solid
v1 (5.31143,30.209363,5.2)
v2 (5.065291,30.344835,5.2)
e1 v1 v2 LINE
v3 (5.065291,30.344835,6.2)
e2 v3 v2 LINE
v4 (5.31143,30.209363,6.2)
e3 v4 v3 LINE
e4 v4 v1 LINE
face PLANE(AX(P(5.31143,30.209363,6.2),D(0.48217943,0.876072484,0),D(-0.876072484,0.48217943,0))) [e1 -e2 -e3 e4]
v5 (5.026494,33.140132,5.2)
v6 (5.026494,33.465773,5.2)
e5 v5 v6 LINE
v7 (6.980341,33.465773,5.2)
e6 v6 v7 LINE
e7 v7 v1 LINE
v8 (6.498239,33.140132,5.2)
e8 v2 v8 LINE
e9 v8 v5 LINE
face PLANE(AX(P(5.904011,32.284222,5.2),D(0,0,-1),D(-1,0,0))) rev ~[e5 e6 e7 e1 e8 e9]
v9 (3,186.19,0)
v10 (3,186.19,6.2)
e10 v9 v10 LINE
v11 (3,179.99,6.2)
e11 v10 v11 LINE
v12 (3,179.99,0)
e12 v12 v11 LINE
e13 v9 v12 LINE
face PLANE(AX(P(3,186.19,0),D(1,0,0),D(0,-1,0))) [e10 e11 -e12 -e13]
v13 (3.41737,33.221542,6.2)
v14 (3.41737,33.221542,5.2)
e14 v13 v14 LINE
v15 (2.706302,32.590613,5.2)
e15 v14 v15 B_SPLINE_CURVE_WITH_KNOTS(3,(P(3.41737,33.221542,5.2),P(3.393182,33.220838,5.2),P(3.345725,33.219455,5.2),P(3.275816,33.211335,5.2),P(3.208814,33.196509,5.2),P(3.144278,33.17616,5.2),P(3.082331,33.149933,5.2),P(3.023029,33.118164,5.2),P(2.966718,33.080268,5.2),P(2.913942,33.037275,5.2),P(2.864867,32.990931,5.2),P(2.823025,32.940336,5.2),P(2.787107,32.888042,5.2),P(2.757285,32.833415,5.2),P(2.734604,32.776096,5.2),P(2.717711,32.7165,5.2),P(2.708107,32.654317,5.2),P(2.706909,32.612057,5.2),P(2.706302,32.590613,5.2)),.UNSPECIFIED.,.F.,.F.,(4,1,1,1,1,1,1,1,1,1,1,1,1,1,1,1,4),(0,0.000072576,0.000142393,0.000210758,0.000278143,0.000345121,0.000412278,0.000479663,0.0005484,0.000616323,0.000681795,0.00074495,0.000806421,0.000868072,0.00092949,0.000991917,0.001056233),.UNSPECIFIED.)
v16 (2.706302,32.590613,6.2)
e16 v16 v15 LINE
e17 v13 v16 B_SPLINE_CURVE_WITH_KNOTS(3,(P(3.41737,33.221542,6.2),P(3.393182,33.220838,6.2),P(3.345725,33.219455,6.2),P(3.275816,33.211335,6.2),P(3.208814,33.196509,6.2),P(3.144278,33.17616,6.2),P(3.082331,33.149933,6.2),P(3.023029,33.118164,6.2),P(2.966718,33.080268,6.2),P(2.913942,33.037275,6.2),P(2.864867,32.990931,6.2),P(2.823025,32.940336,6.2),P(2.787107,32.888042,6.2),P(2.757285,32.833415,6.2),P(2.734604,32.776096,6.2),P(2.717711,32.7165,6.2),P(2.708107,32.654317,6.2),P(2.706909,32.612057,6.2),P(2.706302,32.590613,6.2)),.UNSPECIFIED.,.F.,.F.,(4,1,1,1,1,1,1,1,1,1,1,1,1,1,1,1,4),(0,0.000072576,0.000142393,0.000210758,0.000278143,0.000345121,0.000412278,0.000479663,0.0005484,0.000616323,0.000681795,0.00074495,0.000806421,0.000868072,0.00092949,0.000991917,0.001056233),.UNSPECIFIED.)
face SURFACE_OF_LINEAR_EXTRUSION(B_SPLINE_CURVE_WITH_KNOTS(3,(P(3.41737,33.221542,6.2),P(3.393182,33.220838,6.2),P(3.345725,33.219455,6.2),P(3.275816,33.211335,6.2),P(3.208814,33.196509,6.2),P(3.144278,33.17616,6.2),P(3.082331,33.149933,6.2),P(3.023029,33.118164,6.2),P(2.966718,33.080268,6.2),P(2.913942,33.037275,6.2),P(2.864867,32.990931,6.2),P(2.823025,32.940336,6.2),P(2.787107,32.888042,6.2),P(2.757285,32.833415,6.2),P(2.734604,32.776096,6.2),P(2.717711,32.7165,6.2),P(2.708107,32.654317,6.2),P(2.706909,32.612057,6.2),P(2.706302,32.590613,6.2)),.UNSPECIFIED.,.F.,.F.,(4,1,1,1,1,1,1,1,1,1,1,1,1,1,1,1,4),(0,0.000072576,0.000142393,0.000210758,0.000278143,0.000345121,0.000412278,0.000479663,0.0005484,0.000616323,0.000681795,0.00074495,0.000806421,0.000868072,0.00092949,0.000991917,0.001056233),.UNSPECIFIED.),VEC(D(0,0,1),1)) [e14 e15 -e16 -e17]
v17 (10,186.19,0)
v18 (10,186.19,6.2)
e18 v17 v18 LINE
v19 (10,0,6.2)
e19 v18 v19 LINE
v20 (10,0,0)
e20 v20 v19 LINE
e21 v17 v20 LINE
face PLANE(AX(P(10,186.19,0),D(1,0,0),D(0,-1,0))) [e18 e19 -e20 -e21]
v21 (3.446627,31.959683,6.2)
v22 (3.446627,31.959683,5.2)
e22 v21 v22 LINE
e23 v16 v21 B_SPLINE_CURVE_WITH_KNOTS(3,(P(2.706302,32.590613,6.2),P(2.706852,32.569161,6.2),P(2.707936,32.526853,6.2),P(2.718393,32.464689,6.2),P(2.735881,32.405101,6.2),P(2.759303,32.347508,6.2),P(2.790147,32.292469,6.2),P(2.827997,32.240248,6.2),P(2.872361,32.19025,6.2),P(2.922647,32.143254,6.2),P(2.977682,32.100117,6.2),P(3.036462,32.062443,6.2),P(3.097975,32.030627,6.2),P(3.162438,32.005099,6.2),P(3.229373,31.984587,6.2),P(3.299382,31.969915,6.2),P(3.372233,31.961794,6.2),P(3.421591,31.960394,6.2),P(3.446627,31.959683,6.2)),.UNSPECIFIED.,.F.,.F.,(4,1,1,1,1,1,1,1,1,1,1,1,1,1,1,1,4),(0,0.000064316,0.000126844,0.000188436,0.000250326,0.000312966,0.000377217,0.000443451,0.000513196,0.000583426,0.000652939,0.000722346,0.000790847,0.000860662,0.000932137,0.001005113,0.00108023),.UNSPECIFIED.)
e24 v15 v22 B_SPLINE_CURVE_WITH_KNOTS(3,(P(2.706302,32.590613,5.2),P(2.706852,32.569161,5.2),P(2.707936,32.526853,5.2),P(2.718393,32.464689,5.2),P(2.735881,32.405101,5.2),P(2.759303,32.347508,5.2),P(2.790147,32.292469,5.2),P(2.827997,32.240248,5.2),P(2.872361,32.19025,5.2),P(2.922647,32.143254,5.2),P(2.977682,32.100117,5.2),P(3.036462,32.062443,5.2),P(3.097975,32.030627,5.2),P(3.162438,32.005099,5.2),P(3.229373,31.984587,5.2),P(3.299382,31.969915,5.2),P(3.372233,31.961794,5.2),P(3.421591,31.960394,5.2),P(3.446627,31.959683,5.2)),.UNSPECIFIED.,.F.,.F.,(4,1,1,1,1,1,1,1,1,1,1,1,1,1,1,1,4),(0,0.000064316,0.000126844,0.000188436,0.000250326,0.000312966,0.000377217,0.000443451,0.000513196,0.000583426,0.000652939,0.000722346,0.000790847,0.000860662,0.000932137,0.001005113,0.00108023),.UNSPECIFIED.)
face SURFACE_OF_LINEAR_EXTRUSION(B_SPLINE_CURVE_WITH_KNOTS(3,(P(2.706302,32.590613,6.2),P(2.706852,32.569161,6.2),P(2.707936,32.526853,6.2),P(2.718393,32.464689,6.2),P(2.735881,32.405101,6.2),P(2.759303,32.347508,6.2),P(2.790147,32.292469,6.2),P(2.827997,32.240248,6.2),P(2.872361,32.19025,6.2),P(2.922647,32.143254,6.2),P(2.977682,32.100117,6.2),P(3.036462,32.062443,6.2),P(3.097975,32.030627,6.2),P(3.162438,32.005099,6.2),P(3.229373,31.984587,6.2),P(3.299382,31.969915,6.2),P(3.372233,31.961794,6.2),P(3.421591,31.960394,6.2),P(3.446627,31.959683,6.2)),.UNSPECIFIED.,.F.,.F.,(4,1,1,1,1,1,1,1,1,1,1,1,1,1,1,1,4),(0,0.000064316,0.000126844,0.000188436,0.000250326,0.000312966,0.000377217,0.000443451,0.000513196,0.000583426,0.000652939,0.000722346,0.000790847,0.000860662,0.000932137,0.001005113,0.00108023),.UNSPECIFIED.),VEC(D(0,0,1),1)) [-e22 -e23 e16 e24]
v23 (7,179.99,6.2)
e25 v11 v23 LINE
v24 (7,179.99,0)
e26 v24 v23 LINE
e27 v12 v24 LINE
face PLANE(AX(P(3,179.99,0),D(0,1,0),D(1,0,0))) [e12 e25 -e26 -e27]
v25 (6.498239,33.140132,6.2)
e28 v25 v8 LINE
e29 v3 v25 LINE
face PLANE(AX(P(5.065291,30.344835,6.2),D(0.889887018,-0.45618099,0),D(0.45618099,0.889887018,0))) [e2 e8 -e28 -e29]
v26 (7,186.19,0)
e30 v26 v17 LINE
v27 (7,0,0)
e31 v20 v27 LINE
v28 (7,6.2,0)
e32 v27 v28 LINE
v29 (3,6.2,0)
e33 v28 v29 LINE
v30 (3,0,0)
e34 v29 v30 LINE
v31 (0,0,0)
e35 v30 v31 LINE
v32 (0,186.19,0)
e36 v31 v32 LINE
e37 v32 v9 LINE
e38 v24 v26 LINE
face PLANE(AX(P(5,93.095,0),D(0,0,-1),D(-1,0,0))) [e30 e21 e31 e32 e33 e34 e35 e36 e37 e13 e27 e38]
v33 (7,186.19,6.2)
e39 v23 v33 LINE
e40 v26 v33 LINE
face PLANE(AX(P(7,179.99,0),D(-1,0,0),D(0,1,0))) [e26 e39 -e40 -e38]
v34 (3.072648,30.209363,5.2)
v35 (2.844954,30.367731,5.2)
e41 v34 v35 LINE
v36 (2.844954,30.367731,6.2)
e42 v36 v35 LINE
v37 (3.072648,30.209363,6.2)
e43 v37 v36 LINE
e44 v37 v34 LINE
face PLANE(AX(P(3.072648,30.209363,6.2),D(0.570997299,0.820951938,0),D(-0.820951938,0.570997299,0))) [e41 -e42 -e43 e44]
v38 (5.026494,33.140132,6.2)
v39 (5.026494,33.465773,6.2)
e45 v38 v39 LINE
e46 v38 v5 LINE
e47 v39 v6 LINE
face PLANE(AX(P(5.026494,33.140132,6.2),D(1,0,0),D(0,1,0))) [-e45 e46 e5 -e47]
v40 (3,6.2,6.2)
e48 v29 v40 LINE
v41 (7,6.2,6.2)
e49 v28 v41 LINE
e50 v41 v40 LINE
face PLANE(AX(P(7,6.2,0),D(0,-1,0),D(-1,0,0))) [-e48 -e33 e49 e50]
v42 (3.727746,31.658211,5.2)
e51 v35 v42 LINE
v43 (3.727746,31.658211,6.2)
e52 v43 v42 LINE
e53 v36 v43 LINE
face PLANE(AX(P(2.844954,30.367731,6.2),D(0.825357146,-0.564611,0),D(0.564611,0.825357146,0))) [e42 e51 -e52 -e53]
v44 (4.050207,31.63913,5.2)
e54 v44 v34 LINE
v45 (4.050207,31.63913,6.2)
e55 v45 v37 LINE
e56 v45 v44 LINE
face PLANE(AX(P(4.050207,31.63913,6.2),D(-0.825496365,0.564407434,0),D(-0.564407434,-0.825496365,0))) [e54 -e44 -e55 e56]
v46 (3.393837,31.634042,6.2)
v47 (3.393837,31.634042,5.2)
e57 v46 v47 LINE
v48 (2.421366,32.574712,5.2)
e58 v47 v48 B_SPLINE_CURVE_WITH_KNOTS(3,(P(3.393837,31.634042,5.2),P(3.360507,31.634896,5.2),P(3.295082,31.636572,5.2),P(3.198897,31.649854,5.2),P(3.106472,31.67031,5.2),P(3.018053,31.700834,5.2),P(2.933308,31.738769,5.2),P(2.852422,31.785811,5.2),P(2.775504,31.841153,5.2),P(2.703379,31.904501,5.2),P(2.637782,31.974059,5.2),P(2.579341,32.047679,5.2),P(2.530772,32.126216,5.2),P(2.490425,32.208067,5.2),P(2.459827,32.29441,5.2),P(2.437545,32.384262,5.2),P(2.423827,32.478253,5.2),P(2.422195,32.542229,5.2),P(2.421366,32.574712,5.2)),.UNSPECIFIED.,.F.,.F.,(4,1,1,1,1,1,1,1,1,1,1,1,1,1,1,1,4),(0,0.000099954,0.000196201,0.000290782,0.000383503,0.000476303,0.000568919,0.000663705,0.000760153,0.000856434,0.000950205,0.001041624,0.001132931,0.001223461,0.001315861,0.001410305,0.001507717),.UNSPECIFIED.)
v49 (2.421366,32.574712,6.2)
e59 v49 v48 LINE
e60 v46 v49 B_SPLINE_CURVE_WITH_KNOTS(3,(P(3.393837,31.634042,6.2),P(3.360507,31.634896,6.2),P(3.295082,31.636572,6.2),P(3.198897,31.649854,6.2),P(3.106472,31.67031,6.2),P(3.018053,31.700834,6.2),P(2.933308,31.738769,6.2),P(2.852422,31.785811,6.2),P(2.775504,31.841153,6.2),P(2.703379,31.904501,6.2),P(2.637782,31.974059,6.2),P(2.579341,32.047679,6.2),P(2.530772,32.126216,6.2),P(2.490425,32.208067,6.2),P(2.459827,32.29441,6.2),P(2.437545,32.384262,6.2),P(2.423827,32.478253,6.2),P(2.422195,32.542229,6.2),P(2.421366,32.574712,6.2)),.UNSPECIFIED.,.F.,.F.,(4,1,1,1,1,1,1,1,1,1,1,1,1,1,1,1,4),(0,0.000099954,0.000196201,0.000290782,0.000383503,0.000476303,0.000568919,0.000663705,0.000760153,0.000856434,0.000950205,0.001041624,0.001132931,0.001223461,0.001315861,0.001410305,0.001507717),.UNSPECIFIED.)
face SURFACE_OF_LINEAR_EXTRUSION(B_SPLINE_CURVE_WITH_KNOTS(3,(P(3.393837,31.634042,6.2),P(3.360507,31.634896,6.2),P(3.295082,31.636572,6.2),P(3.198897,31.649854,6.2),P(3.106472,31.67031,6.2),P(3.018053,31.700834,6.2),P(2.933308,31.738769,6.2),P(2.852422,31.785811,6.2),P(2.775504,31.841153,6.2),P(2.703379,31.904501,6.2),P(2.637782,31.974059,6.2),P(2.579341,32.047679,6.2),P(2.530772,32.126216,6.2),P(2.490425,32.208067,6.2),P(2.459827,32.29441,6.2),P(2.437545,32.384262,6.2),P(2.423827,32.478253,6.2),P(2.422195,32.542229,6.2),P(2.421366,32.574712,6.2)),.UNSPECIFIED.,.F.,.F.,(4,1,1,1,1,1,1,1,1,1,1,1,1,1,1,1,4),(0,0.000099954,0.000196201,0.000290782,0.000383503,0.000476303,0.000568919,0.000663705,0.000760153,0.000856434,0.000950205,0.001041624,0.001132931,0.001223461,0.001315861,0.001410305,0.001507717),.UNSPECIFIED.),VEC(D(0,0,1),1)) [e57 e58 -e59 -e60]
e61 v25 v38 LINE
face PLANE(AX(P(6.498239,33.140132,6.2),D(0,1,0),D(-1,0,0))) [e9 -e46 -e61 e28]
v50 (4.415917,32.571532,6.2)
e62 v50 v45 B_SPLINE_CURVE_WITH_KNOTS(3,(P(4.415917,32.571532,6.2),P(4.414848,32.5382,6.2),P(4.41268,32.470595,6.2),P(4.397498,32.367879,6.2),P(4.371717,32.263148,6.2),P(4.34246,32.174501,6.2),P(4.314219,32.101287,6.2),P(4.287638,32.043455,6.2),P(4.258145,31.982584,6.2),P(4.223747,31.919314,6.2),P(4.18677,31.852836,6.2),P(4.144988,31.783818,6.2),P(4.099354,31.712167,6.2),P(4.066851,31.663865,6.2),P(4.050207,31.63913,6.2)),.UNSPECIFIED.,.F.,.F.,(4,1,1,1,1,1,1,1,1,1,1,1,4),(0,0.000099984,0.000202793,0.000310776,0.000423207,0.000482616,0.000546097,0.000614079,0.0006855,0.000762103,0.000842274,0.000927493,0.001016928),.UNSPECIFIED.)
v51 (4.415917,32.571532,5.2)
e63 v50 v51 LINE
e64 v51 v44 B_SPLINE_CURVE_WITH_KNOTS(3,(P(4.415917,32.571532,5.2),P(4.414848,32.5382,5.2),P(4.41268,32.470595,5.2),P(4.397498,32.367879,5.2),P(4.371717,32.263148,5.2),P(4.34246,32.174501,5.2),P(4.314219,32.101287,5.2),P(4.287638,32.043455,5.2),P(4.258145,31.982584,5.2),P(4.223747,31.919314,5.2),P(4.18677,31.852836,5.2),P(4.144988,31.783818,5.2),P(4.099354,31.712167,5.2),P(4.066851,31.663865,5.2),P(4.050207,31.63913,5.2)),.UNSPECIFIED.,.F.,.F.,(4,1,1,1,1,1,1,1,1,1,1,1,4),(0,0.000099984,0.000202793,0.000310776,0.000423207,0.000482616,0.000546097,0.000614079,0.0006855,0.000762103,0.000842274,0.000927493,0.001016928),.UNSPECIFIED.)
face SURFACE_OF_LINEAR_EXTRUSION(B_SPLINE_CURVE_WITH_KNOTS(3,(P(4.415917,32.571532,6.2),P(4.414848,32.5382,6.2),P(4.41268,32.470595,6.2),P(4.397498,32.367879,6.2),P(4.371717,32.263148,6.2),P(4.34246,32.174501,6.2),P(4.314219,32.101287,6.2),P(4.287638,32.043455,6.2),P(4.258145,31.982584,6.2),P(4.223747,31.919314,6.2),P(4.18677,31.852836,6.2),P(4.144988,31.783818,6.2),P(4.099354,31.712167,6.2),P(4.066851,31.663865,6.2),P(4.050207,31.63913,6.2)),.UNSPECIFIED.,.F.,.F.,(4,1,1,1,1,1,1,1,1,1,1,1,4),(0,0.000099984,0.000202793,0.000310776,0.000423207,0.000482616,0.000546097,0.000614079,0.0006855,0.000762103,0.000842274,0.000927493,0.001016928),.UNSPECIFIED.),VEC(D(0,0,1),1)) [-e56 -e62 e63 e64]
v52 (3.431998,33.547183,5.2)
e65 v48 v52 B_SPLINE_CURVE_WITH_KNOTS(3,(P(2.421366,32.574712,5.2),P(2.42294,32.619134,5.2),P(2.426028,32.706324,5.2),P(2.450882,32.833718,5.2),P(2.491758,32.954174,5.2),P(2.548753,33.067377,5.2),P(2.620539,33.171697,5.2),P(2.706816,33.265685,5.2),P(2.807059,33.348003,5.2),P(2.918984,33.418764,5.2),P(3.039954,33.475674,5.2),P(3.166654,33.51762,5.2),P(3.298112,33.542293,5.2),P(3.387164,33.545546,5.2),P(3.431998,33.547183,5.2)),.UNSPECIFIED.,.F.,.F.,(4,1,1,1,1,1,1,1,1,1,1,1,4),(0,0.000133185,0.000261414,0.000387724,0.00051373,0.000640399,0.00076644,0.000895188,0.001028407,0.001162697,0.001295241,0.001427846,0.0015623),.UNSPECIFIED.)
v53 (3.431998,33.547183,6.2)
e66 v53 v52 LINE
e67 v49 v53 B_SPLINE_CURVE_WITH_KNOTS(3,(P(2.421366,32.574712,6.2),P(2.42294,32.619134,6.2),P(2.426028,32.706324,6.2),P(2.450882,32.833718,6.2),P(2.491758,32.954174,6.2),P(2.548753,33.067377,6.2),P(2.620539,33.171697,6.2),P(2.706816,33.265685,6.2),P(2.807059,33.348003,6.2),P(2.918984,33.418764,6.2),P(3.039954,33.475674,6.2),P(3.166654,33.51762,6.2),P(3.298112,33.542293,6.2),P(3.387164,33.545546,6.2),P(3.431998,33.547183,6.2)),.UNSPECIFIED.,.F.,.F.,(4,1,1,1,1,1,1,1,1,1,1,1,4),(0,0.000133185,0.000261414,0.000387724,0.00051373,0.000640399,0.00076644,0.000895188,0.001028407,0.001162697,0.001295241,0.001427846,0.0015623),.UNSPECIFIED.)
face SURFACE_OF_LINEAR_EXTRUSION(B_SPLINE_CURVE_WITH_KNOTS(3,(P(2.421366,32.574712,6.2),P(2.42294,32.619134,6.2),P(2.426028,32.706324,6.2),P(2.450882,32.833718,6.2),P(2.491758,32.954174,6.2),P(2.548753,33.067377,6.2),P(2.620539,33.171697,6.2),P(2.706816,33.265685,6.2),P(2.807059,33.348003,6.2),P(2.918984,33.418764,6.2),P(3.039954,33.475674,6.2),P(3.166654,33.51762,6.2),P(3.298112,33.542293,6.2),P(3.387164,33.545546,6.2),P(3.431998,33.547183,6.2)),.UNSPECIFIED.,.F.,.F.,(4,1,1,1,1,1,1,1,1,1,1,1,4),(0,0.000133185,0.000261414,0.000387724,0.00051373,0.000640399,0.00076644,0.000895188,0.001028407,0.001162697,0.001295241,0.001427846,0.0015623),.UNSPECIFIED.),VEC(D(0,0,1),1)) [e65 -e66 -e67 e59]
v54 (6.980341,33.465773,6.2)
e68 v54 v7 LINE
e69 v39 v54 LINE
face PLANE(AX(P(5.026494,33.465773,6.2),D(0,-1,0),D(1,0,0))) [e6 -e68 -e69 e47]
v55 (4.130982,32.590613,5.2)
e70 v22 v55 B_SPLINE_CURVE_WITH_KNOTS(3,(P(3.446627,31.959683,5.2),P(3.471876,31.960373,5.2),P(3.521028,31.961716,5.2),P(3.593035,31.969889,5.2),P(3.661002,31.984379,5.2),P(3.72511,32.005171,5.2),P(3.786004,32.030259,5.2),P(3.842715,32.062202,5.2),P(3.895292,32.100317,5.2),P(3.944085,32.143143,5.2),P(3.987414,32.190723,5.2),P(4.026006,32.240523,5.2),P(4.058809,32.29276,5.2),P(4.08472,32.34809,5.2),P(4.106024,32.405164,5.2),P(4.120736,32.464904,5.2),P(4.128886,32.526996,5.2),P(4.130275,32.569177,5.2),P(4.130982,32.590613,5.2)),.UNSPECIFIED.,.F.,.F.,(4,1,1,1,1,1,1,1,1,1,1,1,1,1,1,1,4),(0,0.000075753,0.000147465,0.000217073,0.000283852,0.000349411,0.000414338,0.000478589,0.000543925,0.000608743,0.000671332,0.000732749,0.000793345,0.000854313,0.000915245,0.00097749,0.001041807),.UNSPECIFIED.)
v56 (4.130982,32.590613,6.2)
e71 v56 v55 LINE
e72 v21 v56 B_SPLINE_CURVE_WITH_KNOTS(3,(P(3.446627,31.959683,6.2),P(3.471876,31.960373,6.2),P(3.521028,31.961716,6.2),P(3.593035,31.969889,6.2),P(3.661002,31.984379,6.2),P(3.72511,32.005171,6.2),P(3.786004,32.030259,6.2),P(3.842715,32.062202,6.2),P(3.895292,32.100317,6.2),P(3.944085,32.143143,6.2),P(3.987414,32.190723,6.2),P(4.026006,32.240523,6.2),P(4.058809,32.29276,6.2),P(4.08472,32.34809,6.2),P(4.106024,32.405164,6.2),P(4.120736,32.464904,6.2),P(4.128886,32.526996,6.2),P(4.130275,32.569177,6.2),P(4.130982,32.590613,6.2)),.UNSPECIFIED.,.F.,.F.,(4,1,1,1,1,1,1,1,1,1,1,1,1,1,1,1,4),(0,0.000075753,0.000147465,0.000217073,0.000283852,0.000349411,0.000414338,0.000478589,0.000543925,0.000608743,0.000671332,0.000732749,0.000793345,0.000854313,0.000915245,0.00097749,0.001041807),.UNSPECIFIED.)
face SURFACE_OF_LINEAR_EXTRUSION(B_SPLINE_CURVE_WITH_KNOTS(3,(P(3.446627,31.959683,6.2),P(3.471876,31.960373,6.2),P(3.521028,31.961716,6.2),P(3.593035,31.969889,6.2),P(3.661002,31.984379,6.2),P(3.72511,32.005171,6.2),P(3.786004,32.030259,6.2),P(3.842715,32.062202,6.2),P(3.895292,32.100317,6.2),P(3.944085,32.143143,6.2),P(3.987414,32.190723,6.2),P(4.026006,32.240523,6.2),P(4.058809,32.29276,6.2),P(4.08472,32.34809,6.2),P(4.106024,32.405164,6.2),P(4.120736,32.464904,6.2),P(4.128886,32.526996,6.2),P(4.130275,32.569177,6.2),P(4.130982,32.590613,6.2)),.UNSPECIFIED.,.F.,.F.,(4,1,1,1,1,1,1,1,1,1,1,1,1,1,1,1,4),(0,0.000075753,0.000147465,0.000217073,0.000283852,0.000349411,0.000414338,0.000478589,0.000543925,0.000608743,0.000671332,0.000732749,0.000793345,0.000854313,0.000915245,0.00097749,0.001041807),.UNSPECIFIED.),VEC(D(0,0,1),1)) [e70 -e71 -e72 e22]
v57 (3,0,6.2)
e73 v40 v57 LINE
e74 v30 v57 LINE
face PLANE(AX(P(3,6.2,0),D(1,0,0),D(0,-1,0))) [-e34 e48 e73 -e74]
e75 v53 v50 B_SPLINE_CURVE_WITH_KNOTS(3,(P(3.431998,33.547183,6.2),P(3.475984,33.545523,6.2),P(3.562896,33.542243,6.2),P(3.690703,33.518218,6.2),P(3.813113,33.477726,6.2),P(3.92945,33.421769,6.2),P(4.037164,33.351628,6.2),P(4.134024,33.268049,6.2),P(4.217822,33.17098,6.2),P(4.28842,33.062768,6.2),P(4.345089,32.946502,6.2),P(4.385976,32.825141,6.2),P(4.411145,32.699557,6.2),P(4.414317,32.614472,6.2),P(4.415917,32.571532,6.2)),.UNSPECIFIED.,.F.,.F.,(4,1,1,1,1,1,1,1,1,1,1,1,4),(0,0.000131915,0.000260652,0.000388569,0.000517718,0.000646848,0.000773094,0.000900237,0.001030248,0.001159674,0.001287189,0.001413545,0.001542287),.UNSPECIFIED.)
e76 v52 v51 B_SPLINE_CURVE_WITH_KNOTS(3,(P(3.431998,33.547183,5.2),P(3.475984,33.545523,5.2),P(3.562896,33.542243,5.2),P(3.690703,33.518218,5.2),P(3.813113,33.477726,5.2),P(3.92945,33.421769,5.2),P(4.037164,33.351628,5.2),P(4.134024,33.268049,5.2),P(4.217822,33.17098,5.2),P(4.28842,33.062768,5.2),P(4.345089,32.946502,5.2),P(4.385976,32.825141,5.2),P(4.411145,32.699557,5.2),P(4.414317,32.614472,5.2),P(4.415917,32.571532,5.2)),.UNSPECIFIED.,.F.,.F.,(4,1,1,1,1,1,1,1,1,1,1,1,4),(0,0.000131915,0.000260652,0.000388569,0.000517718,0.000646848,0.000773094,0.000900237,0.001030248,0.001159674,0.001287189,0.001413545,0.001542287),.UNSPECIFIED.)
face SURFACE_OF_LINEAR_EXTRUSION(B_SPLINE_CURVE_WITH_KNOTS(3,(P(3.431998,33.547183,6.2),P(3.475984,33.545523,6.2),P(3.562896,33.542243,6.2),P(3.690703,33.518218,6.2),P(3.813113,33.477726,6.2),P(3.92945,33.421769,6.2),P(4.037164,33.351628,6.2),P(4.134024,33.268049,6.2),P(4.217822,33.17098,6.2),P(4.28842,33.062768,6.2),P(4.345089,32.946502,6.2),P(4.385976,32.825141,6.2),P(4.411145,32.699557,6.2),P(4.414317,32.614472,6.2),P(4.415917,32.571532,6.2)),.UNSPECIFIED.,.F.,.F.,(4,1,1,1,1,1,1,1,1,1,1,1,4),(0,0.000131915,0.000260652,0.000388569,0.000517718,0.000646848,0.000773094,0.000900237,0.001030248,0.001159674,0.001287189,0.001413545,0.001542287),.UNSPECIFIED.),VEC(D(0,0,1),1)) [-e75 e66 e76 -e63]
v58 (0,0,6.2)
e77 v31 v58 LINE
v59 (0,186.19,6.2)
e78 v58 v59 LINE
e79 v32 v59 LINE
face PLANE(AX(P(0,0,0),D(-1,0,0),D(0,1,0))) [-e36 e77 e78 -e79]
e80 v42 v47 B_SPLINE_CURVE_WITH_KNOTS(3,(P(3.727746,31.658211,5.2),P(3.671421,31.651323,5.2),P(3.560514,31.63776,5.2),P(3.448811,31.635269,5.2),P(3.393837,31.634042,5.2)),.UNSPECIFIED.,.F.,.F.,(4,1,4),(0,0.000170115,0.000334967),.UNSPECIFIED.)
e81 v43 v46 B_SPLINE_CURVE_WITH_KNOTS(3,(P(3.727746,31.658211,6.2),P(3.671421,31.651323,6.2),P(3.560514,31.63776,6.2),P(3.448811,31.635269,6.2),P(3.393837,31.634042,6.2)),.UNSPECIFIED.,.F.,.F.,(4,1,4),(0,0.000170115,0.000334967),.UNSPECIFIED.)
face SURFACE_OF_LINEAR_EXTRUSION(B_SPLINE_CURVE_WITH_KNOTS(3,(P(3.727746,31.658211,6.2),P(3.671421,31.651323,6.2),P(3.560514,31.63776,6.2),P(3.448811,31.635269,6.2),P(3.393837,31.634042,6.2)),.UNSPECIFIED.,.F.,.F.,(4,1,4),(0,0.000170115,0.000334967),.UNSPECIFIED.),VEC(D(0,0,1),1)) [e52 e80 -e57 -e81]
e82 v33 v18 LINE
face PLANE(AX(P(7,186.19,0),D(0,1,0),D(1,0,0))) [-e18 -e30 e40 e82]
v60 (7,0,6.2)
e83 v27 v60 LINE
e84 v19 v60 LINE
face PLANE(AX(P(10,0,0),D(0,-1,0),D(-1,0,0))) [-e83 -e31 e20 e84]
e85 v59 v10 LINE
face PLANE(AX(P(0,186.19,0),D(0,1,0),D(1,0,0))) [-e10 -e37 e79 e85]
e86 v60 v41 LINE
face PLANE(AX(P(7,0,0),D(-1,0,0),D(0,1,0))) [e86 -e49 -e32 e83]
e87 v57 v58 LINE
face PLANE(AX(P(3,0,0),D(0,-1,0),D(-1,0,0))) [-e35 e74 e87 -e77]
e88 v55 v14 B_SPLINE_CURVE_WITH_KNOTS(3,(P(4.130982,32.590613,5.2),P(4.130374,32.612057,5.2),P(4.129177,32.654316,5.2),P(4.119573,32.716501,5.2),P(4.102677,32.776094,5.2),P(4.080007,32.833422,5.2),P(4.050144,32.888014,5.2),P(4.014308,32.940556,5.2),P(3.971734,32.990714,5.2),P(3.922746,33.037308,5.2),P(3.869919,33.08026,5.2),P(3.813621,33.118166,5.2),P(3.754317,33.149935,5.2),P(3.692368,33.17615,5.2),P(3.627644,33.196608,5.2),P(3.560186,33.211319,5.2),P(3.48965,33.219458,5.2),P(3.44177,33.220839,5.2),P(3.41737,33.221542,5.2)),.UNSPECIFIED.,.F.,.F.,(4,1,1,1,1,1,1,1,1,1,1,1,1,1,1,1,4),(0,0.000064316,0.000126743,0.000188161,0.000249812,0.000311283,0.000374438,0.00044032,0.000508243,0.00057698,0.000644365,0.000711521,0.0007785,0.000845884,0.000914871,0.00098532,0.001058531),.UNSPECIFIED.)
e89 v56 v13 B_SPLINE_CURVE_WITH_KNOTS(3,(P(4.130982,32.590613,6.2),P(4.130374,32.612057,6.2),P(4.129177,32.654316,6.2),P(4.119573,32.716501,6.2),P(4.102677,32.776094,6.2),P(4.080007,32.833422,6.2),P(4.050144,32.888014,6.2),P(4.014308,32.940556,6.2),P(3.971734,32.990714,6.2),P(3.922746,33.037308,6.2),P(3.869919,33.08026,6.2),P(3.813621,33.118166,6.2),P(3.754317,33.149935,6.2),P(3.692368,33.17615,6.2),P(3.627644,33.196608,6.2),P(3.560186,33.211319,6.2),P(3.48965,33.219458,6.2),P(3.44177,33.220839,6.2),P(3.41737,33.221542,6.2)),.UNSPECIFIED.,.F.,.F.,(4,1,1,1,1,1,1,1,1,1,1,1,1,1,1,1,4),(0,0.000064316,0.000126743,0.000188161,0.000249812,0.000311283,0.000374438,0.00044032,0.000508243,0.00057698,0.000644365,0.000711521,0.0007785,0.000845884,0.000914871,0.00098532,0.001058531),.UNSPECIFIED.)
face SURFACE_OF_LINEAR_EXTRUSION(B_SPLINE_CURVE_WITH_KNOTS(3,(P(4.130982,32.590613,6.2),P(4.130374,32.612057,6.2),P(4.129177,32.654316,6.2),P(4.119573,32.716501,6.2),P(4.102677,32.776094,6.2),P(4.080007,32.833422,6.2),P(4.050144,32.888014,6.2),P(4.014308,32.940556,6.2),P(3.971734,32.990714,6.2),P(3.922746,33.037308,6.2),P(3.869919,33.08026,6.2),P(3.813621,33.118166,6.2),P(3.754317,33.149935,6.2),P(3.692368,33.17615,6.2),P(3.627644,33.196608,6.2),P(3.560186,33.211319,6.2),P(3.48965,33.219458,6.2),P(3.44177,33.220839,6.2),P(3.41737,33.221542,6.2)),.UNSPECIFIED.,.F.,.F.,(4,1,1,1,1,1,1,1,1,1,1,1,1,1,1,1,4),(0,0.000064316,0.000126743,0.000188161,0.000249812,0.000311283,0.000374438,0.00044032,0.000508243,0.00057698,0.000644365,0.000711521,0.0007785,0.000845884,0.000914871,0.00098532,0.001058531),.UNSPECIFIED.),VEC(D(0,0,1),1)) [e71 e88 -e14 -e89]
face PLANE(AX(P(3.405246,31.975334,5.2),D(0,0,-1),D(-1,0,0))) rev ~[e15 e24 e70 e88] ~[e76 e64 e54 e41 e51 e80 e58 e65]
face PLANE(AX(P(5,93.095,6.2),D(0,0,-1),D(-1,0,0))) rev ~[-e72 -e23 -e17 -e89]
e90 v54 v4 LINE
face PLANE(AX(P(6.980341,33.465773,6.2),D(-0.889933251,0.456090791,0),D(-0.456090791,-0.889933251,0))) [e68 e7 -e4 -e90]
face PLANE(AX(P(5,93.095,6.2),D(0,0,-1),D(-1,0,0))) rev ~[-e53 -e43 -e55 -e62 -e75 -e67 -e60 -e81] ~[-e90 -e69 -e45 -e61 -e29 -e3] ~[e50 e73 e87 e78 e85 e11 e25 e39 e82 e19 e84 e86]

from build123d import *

# Parameters (mm, degrees)
BOSS_EXTRUDE1_DEPTH = 6.2
CUT_EXTRUDE1_DEPTH  = 1


with BuildPart() as part:
    # Sketch2 → Boss-Extrude1 (new body)
    with BuildSketch(Plane.XY):
        Polygon((0, 0), (0, 186.19), (3, 186.19), (3, 179.99), (7, 179.99), (7, 186.19), (10, 186.19), (10, 0), (7, 0), (7, 6.2), (3, 6.2), (3, 0), align=None)
    extrude(amount=BOSS_EXTRUDE1_DEPTH)

    # Sketch3 → Cut-Extrude1 (cut)
    with BuildSketch(Plane.XY.offset(6.2)):
        with BuildLine():
            Line((3.072648213, 30.209362795), (2.844953902, 30.367731185))
            Line((2.844953902, 30.367731185), (3.72774637, 31.658210953))
            add(Edge.make_bspline(
                [(3.72774637, 31.658210953), (3.671421203, 31.651322959), (3.560513808, 31.637760117), (3.448810866, 31.635268509), (3.393837115, 31.634042283)],
                knots=[0, 0, 0, 0, 0.000170115, 0.000334967, 0.000334967, 0.000334967, 0.000334967], degree=3))
            add(Edge.make_bspline(
                [(3.393837115, 31.634042283), (3.360506829, 31.634895973), (3.295082392, 31.636571694), (3.198896536, 31.649853906), (3.106471777, 31.670310093), (3.018053147, 31.700834321), (2.933308311, 31.73876941), (2.852422271, 31.78581113), (2.775503913, 31.841152552), (2.703379334, 31.904501051), (2.637782256, 31.974058999), (2.579341122, 32.04767876), (2.530771667, 32.126215534), (2.49042505, 32.208067233), (2.45982671, 32.294410316), (2.437544979, 32.384262271), (2.423826844, 32.478252832), (2.422194807, 32.542229201), (2.421366162, 32.574712355)],
                knots=[0, 0, 0, 0, 9.9954e-05, 0.000196201, 0.000290782, 0.000383503, 0.000476303, 0.000568919, 0.000663705, 0.000760153, 0.000856434, 0.000950205, 0.001041624, 0.001132931, 0.001223461, 0.001315861, 0.001410305, 0.001507717, 0.001507717, 0.001507717, 0.001507717], degree=3))
            add(Edge.make_bspline(
                [(2.421366162, 32.574712355), (2.422939542, 32.619133918), (2.426027768, 32.706324436), (2.450882137, 32.833717927), (2.491758302, 32.954174291), (2.548752615, 33.067376824), (2.620539113, 33.171697109), (2.706816191, 33.265684919), (2.807059073, 33.348003465), (2.91898419, 33.418764307), (3.03995443, 33.475673911), (3.166653856, 33.517619562), (3.298111665, 33.542292712), (3.387163766, 33.5455456), (3.431998173, 33.547183308)],
                knots=[0, 0, 0, 0, 0.000133185, 0.000261414, 0.000387724, 0.00051373, 0.000640399, 0.00076644, 0.000895188, 0.001028407, 0.001162697, 0.001295241, 0.001427846, 0.0015623, 0.0015623, 0.0015623, 0.0015623], degree=3))
            add(Edge.make_bspline(
                [(3.431998173, 33.547183308), (3.475984097, 33.545523089), (3.562896136, 33.542242652), (3.690702591, 33.518217909), (3.813113371, 33.47772607), (3.929449895, 33.421769358), (4.037163504, 33.351628249), (4.134024419, 33.268049074), (4.217822229, 33.170979774), (4.288419607, 33.062768073), (4.345088858, 32.946502311), (4.385975857, 32.825141182), (4.411145116, 32.699557484), (4.414316784, 32.614472497), (4.415917444, 32.571532267)],
                knots=[0, 0, 0, 0, 0.000131915, 0.000260652, 0.000388569, 0.000517718, 0.000646848, 0.000773094, 0.000900237, 0.001030248, 0.001159674, 0.001287189, 0.001413545, 0.001542287, 0.001542287, 0.001542287, 0.001542287], degree=3))
            add(Edge.make_bspline(
                [(4.415917444, 32.571532267), (4.414848459, 32.538200421), (4.41268029, 32.470595109), (4.397498068, 32.367879012), (4.3717169, 32.263148254), (4.342460002, 32.174500806), (4.314218678, 32.101286713), (4.287638366, 32.043454922), (4.258145198, 31.982584491), (4.223747461, 31.919313691), (4.186770235, 31.852835963), (4.144987891, 31.783818071), (4.099353551, 31.712167398), (4.066850877, 31.663864683), (4.050207308, 31.639130424)],
                knots=[0, 0, 0, 0, 9.9984e-05, 0.000202793, 0.000310776, 0.000423207, 0.000482616, 0.000546097, 0.000614079, 0.0006855, 0.000762103, 0.000842274, 0.000927493, 0.001016928, 0.001016928, 0.001016928, 0.001016928], degree=3))
            Line((4.050207308, 31.639130424), (3.072648213, 30.209362795))
        make_face()
        with BuildLine():
            add(Edge.make_bspline(
                [(3.446626579, 31.959683308), (3.471876006, 31.960373085), (3.521028056, 31.961715846), (3.593034606, 31.969888515), (3.661001562, 31.984379203), (3.725110481, 32.005170656), (3.786004171, 32.030259205), (3.842715411, 32.062201507), (3.895291665, 32.100316597), (3.944084999, 32.143142826), (3.98741377, 32.190722998), (4.026006377, 32.240522516), (4.058809177, 32.292759984), (4.08472015, 32.348089586), (4.106024015, 32.405164482), (4.120736069, 32.46490379), (4.128886142, 32.526996268), (4.1302755, 32.569177193), (4.130981547, 32.590612795)],
                knots=[0, 0, 0, 0, 7.5753e-05, 0.000147465, 0.000217073, 0.000283852, 0.000349411, 0.000414338, 0.000478589, 0.000543925, 0.000608743, 0.000671332, 0.000732749, 0.000793345, 0.000854313, 0.000915245, 0.00097749, 0.001041807, 0.001041807, 0.001041807, 0.001041807], degree=3))
            add(Edge.make_bspline(
                [(4.130981547, 32.590612795), (4.130374061, 32.612057349), (4.129176936, 32.654316472), (4.119572743, 32.716500879), (4.102677005, 32.776094051), (4.080007065, 32.833422241), (4.050143706, 32.888014436), (4.014308401, 32.940556034), (3.971733965, 32.990713892), (3.922745923, 33.037308363), (3.869918864, 33.080259672), (3.813621124, 33.118165612), (3.754316736, 33.14993484), (3.692367506, 33.176150334), (3.627644361, 33.196608017), (3.5601856, 33.211319483), (3.48965034, 33.219458146), (3.441770173, 33.220838722), (3.417369768, 33.221542283)],
                knots=[0, 0, 0, 0, 6.4316e-05, 0.000126743, 0.000188161, 0.000249812, 0.000311283, 0.000374438, 0.00044032, 0.000508243, 0.00057698, 0.000644365, 0.000711521, 0.0007785, 0.000845884, 0.000914871, 0.00098532, 0.001058531, 0.001058531, 0.001058531, 0.001058531], degree=3))
            add(Edge.make_bspline(
                [(3.417369768, 33.221542283), (3.393181571, 33.220837585), (3.34572453, 33.219454975), (3.275816328, 33.211334953), (3.208813697, 33.196509078), (3.144278084, 33.17615981), (3.082330695, 33.149932885), (3.023029104, 33.118163947), (2.966718196, 33.080268397), (2.913941785, 33.037274568), (2.864867241, 32.990930775), (2.823024797, 32.940336307), (2.787107481, 32.888041767), (2.757285157, 32.833414977), (2.734604302, 32.77609599), (2.717711486, 32.716500354), (2.708106508, 32.654316609), (2.70690949, 32.612057395), (2.706302059, 32.590612795)],
                knots=[0, 0, 0, 0, 7.2576e-05, 0.000142393, 0.000210758, 0.000278143, 0.000345121, 0.000412278, 0.000479663, 0.0005484, 0.000616323, 0.000681795, 0.00074495, 0.000806421, 0.000868072, 0.00092949, 0.000991917, 0.001056233, 0.001056233, 0.001056233, 0.001056233], degree=3))
            add(Edge.make_bspline(
                [(2.706302059, 32.590612795), (2.706851721, 32.569160501), (2.707935754, 32.52685265), (2.718393106, 32.464689422), (2.73588126, 32.405100846), (2.759303136, 32.347507519), (2.790147435, 32.292469476), (2.827996926, 32.240247655), (2.872361243, 32.190250068), (2.922647335, 32.143253526), (2.977682024, 32.100116909), (3.036461929, 32.06244292), (3.097975139, 32.030627203), (3.162438189, 32.005098947), (3.229373358, 31.984586938), (3.299382227, 31.969915222), (3.372233271, 31.961794237), (3.421590897, 31.960393702), (3.446626579, 31.959683308)],
                knots=[0, 0, 0, 0, 6.4316e-05, 0.000126844, 0.000188436, 0.000250326, 0.000312966, 0.000377217, 0.000443451, 0.000513196, 0.000583426, 0.000652939, 0.000722346, 0.000790847, 0.000860662, 0.000932137, 0.001005113, 0.00108023, 0.00108023, 0.00108023, 0.00108023], degree=3))
        make_face(mode=Mode.SUBTRACT)
        Polygon((5.026494367, 33.465773052), (6.980340521, 33.465773052), (5.311430264, 30.209362795), (5.065291442, 30.34483455), (6.498239159, 33.140132026), (5.026494367, 33.140132026), align=None)
    extrude(amount=-CUT_EXTRUDE1_DEPTH, mode=Mode.SUBTRACT)


solid = part.part
